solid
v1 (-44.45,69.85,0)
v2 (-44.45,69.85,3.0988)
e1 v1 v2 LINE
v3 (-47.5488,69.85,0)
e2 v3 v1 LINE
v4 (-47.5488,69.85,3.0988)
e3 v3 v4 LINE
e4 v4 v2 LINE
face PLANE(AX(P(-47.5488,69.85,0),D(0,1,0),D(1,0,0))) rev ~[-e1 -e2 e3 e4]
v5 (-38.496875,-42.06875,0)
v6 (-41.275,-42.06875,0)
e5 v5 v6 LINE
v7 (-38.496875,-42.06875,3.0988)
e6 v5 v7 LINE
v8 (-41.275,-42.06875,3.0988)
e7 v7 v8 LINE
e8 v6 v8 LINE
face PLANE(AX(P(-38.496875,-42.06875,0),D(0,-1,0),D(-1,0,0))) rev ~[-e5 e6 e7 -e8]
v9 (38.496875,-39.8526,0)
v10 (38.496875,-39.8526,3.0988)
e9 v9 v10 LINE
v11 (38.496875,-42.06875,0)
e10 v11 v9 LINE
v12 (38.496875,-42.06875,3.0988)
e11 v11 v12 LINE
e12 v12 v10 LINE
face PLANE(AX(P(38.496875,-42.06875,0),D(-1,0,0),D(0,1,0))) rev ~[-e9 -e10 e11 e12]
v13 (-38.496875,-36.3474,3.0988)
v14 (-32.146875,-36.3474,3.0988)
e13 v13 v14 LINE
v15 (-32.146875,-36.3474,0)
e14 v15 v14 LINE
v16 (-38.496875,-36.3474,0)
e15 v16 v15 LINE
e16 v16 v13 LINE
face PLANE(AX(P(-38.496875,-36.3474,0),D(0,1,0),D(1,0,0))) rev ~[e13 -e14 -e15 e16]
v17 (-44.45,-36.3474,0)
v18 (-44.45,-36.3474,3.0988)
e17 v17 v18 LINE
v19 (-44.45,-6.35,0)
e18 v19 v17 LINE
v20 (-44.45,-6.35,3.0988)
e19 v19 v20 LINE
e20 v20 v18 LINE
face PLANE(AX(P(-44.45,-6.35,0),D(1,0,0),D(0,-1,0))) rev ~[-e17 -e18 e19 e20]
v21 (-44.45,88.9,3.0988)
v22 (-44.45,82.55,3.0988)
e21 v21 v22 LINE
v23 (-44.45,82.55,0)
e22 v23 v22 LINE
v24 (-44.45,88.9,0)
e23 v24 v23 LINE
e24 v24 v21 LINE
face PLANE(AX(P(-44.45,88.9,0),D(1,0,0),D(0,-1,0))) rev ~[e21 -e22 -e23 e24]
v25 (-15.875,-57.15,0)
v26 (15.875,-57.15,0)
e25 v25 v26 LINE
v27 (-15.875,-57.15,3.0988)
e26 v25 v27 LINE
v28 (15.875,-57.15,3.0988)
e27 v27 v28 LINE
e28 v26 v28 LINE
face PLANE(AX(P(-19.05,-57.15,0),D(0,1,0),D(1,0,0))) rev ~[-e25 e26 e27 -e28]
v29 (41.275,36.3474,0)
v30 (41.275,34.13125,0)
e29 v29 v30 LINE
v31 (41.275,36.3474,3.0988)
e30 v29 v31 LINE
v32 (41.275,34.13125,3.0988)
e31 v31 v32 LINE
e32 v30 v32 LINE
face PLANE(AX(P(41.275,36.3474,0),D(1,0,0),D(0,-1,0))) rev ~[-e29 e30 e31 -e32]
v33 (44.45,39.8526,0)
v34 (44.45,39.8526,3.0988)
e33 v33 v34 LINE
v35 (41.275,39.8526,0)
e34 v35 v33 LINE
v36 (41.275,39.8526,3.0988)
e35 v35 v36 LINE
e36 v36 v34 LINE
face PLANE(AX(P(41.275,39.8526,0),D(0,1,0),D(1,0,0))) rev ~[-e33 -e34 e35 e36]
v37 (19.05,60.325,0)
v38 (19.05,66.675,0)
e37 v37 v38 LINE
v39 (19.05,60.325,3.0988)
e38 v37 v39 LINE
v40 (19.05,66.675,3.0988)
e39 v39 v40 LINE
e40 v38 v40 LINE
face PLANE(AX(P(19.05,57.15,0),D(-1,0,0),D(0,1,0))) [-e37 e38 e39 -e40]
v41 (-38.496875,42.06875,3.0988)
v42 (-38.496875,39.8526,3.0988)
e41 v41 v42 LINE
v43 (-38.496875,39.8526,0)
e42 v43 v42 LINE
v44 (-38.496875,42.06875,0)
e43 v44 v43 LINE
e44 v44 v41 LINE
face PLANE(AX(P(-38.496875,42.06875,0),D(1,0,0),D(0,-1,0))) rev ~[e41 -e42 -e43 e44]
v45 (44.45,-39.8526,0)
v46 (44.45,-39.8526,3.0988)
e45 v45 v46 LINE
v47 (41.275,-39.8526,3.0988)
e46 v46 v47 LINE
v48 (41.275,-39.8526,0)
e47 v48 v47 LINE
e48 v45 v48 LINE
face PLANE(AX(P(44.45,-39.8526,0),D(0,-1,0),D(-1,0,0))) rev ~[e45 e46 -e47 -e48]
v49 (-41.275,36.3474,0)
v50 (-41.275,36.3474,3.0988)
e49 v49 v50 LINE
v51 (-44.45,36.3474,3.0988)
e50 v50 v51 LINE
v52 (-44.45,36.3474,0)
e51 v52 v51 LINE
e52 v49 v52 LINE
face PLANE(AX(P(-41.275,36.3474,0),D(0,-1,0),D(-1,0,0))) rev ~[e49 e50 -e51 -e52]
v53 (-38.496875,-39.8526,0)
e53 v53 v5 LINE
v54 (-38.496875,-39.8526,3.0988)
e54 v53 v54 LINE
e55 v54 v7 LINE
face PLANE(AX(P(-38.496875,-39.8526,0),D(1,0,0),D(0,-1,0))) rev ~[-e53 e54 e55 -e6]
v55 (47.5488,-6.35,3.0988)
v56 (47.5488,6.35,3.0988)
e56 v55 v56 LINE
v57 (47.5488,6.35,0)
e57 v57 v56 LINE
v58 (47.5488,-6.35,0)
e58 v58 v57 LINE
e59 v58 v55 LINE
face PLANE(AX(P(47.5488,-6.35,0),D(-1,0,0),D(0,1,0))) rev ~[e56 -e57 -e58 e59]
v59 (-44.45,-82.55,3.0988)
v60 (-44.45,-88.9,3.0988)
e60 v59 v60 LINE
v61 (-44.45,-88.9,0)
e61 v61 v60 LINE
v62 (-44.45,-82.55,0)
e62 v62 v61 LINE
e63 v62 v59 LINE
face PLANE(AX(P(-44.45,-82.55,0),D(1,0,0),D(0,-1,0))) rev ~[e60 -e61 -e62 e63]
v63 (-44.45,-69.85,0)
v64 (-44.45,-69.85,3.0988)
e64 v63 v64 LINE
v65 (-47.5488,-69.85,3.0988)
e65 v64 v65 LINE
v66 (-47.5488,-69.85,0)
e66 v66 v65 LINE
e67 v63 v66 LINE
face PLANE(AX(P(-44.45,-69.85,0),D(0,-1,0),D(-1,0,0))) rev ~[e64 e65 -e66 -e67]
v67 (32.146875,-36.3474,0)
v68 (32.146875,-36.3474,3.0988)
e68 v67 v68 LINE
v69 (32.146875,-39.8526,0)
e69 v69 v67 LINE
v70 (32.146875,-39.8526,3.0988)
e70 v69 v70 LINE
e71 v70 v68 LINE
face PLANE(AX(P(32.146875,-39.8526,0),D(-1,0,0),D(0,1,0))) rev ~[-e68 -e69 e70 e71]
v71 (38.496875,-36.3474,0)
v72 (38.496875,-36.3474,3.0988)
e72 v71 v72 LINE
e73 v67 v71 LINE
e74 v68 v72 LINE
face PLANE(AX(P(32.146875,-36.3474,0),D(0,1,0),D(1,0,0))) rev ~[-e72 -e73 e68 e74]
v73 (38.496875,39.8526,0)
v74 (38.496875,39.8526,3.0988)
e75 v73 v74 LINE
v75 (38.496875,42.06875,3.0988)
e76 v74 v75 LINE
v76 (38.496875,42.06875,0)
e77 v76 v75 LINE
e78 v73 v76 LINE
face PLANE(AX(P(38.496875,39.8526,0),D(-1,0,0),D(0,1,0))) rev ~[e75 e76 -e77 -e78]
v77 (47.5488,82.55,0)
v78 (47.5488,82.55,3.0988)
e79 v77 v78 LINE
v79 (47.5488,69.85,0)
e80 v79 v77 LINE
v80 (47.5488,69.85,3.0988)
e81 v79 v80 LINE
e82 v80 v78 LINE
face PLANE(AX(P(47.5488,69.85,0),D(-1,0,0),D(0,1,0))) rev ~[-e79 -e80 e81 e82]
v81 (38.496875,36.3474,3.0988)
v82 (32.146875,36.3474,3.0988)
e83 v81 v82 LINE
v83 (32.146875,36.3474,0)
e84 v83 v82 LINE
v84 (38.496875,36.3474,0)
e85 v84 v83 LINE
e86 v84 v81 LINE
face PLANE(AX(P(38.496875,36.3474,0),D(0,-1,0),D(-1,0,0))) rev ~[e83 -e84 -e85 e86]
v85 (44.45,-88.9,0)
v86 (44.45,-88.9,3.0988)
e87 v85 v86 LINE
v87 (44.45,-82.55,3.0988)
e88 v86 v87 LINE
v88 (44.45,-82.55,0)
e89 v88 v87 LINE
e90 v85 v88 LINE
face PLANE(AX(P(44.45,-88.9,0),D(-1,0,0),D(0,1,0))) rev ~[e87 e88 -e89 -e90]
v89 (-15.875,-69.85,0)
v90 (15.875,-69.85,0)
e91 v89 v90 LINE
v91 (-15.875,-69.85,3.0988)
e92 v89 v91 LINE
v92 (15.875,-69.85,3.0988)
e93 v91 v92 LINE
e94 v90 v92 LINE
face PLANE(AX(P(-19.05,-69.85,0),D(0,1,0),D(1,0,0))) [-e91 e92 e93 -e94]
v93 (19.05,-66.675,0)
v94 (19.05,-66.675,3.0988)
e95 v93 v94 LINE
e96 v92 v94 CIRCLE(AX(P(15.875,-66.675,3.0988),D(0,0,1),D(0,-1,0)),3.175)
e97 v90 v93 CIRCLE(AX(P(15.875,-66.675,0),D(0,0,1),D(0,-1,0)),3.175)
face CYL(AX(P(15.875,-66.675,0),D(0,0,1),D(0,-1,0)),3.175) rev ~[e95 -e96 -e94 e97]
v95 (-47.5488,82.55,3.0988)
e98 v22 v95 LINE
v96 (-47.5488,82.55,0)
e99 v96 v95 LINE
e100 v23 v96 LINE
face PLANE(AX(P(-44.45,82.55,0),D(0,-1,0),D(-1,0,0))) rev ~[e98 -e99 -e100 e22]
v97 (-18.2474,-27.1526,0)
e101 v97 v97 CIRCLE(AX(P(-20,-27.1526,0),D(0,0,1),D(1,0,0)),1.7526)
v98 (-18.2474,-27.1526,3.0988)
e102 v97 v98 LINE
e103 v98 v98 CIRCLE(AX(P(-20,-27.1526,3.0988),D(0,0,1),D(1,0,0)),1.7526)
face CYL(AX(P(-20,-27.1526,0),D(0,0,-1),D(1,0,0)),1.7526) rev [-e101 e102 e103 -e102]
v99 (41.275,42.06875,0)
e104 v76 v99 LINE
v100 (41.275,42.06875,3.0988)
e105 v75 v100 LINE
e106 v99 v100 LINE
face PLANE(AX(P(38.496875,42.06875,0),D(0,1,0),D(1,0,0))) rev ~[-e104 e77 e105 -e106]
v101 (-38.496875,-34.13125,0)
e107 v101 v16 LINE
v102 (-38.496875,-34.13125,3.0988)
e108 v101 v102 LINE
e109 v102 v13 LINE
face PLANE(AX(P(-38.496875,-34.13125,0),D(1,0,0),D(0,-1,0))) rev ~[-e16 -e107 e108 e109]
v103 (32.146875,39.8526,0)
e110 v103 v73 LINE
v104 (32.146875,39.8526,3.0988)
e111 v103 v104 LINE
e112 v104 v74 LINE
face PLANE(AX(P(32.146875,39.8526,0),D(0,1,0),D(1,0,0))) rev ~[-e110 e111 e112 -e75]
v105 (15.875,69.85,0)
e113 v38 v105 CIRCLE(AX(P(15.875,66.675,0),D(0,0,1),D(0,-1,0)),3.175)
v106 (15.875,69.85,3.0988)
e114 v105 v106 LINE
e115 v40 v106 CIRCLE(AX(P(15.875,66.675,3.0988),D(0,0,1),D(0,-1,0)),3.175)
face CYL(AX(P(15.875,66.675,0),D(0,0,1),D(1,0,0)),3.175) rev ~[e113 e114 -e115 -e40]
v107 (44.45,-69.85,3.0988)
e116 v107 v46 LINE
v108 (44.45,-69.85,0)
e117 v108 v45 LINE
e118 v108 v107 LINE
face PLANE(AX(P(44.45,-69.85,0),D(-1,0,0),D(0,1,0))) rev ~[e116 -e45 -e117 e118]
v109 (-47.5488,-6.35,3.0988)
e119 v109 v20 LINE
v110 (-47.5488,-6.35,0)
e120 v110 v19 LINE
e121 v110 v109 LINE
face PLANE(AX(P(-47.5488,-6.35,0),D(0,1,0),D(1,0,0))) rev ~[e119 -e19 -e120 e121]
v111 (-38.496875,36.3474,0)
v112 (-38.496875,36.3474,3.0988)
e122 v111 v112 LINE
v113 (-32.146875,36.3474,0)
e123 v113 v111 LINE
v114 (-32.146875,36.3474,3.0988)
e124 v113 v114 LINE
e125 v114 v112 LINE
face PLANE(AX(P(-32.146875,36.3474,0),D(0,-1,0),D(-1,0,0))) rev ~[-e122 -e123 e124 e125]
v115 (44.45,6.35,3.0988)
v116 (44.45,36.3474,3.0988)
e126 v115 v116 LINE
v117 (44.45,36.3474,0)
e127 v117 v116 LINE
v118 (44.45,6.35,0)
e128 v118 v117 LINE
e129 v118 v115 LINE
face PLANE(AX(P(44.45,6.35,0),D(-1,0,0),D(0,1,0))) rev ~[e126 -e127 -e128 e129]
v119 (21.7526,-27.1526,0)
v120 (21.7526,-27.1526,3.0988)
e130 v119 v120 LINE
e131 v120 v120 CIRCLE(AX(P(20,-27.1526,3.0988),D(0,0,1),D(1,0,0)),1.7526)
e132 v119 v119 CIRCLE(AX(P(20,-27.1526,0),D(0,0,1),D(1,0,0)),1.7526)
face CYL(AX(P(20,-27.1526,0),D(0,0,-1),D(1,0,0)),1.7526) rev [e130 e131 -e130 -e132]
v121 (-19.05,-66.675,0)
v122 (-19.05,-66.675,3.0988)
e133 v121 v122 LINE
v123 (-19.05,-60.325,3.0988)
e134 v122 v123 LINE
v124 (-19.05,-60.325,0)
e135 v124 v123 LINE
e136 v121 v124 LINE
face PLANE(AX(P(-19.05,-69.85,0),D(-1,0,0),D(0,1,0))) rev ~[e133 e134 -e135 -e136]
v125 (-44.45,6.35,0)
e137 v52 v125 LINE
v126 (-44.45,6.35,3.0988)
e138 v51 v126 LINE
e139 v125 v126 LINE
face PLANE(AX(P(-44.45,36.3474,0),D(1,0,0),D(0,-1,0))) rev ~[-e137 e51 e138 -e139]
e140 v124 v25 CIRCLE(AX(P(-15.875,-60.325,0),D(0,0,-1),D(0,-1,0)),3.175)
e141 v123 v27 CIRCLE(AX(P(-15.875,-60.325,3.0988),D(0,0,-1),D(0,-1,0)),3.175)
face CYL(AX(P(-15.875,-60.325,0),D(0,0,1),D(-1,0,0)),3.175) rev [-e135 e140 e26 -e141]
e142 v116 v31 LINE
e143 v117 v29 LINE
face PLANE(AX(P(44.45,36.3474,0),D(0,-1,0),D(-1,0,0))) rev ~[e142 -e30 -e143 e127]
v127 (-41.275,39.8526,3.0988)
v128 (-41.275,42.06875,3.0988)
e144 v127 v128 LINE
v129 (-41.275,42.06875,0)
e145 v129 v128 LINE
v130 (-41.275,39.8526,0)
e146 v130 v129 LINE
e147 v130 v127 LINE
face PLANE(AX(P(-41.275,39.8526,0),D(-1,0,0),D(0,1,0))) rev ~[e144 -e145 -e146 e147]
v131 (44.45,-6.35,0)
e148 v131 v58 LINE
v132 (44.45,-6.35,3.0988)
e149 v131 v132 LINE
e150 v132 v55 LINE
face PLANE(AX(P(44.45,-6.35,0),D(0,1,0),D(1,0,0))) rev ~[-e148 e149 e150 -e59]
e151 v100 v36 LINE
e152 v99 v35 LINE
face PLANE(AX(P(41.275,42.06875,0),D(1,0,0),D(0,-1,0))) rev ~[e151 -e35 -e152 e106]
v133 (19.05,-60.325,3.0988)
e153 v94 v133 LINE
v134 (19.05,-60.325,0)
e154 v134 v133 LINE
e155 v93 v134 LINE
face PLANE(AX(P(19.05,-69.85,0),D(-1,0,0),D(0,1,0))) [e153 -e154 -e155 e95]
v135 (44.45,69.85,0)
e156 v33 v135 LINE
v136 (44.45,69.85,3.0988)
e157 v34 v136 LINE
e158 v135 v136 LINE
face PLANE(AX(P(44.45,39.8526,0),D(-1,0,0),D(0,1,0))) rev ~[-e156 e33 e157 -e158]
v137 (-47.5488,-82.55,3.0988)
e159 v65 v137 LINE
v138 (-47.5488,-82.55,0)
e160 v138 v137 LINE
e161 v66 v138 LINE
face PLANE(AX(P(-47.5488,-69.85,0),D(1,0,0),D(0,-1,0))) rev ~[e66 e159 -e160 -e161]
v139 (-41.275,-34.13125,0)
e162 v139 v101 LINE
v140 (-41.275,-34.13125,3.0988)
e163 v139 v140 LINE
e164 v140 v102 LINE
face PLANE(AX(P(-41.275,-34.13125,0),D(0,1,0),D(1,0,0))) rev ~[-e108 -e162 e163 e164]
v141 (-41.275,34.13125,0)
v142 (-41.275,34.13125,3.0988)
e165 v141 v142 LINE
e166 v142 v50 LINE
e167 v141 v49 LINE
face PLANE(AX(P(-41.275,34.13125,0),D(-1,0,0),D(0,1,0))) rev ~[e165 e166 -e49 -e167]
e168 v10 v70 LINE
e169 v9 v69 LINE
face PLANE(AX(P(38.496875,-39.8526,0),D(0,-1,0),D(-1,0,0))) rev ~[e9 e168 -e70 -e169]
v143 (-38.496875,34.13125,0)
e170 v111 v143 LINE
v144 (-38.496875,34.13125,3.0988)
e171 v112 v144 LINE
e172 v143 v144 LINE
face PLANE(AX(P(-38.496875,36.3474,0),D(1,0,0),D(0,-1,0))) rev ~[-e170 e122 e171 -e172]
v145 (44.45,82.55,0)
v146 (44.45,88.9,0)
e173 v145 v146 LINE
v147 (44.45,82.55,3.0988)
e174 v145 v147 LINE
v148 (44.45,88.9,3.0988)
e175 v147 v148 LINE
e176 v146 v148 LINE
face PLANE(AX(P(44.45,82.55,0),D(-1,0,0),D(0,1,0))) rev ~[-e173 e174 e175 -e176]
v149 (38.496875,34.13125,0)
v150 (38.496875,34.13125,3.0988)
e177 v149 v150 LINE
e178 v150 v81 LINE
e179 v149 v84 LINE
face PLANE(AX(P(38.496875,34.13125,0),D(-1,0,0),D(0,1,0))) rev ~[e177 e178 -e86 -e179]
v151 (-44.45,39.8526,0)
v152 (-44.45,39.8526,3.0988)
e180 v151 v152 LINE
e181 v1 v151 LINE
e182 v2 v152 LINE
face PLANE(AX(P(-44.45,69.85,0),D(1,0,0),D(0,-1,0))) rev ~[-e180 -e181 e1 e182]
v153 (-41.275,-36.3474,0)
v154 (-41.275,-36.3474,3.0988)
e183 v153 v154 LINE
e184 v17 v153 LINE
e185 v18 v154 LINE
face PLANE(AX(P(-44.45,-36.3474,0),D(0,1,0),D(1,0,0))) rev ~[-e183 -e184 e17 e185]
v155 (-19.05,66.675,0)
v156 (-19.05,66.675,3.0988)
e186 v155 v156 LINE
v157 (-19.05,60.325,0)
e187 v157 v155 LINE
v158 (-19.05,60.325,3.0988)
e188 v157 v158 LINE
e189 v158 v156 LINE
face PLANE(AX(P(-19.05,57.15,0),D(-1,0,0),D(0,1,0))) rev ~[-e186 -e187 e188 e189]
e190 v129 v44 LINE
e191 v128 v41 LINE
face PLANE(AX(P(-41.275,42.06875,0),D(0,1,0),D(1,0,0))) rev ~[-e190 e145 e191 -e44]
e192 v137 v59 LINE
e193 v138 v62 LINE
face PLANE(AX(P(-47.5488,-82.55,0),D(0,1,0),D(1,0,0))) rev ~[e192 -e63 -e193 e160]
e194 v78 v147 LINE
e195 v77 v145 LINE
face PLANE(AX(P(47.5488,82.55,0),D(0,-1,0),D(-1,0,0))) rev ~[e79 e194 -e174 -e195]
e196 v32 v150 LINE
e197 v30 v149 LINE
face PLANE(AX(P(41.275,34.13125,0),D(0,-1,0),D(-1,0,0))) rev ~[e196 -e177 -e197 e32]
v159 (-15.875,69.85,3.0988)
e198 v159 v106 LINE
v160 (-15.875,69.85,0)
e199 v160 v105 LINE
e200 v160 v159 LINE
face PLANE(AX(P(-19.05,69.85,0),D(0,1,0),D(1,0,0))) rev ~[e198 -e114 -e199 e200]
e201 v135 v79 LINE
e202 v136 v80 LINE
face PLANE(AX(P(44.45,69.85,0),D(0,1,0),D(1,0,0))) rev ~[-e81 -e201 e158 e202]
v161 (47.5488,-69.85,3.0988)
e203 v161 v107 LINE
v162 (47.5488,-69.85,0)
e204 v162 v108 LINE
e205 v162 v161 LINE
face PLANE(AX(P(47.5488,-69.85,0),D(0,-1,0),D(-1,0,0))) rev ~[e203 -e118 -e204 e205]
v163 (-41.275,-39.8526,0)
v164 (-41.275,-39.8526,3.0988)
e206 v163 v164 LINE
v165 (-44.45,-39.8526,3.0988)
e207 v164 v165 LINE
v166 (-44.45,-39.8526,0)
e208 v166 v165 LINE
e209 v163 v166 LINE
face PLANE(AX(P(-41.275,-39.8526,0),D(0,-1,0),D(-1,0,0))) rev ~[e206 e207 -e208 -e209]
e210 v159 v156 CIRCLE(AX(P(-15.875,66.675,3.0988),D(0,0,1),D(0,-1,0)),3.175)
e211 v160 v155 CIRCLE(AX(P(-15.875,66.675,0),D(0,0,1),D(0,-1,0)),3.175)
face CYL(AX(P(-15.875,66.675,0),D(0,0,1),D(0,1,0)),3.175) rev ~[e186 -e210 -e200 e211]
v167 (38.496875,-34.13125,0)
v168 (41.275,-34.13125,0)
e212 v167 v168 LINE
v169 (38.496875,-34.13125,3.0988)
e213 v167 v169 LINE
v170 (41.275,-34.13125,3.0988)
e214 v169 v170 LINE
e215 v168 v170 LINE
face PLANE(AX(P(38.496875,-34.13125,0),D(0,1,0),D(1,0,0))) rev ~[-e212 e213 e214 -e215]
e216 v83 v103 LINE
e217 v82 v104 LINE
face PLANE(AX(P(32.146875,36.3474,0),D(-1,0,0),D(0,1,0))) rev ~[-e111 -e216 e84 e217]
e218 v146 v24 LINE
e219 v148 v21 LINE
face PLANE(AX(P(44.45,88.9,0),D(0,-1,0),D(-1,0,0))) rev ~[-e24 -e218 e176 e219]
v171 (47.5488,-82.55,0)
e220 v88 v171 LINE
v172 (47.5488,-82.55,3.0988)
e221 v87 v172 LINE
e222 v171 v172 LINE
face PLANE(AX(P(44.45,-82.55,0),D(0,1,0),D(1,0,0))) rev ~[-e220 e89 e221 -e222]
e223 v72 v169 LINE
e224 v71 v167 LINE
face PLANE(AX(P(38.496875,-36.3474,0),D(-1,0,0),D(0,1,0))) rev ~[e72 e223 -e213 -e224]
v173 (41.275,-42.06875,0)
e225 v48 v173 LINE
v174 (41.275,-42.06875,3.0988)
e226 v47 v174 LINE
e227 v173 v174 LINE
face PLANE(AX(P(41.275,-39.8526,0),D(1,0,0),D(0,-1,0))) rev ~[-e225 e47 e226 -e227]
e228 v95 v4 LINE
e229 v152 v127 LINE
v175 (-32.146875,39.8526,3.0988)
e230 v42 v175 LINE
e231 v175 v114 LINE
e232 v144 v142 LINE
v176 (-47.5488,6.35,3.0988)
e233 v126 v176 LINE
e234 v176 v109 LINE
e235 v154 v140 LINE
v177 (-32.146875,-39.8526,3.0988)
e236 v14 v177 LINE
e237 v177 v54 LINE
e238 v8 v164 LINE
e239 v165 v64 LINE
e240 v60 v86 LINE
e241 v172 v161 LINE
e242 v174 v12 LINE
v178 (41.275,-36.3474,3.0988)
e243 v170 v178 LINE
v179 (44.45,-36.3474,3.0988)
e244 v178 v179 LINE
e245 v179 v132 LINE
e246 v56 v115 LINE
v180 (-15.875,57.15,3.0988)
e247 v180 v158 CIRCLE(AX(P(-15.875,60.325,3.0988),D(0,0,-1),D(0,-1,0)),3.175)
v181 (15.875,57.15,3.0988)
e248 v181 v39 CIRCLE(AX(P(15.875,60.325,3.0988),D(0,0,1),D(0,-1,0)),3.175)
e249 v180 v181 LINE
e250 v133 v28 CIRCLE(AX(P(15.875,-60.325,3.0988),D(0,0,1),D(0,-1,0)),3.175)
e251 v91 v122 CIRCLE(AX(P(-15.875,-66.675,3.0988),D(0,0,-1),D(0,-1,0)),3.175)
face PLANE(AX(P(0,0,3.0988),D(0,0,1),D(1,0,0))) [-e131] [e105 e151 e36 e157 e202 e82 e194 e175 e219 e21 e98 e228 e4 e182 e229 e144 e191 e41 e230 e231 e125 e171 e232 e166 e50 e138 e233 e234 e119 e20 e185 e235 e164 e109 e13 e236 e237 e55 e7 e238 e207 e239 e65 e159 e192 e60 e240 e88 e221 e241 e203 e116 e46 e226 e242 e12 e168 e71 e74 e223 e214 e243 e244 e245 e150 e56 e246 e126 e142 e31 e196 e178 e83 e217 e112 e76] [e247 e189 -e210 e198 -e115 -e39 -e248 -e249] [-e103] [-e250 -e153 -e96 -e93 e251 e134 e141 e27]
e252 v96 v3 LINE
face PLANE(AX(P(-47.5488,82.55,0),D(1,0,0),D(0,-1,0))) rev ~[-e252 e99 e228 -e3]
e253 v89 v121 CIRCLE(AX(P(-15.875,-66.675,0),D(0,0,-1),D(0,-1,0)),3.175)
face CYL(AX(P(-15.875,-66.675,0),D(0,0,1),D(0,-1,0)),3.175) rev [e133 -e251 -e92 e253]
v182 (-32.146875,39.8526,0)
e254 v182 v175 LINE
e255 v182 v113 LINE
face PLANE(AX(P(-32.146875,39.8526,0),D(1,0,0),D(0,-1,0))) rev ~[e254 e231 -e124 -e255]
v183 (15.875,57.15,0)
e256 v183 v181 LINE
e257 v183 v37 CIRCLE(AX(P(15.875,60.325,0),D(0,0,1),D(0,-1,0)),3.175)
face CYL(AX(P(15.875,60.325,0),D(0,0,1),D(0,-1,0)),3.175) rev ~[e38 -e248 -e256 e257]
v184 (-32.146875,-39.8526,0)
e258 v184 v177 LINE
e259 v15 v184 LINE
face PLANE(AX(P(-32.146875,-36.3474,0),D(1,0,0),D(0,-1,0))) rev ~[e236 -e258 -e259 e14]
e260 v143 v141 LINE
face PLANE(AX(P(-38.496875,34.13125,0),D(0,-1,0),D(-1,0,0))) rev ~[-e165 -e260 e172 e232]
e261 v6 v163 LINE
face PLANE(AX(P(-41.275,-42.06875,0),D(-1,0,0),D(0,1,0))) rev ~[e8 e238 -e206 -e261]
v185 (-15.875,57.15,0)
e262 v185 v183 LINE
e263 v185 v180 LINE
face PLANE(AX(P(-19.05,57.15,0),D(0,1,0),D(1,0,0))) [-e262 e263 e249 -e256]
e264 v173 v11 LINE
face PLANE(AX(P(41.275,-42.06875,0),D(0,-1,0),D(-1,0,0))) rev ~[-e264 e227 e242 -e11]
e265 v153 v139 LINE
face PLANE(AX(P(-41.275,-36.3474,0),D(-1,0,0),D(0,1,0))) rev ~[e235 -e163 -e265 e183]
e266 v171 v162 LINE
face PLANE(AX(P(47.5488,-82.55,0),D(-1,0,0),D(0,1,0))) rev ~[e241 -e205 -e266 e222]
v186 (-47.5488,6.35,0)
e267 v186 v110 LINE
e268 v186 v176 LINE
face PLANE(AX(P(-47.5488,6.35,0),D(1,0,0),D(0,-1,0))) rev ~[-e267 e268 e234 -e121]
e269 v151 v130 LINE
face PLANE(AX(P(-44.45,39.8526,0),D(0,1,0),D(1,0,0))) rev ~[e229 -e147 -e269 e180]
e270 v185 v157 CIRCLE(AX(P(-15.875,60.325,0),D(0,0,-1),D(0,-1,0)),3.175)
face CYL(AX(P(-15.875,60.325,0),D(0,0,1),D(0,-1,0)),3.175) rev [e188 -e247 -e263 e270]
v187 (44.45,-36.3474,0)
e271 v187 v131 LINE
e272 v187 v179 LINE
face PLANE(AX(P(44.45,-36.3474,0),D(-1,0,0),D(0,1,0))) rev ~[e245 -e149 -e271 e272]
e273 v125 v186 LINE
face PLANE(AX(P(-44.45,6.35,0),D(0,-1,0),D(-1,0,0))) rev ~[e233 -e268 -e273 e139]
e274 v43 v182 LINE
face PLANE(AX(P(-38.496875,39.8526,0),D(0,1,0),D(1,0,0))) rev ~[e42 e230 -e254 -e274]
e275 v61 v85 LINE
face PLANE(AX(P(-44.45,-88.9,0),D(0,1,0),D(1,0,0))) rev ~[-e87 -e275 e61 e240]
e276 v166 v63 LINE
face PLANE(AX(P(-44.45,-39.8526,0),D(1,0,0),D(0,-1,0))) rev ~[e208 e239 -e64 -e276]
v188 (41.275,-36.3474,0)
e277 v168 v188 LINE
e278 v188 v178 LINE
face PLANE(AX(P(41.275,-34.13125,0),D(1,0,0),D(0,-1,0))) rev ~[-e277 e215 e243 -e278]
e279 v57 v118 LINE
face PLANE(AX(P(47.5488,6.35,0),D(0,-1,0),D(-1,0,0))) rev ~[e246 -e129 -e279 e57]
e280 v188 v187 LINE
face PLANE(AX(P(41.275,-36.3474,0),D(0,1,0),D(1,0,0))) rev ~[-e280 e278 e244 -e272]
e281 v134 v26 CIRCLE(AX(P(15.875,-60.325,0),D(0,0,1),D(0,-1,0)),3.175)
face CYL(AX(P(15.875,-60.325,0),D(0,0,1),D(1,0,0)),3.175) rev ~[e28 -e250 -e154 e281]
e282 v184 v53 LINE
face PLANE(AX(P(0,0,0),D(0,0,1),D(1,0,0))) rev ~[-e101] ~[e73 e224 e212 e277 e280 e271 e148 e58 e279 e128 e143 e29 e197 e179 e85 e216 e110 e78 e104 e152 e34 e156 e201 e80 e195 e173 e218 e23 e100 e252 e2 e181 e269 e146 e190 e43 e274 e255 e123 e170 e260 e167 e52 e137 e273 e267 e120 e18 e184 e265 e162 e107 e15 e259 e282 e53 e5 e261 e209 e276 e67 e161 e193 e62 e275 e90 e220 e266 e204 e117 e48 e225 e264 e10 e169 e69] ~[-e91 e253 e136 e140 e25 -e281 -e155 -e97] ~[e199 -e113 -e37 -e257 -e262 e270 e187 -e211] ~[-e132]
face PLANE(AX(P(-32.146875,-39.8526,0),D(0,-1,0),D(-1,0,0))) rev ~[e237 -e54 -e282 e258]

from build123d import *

# Parameters (mm, degrees)
F0_R     = 1.7526
F0_W     = 38.1
F0_H     = 12.7
F1_DEPTH = 3.0988
F2_R     = 3.175


with BuildPart() as f1:
    # F0 (on Top) → F1 (new body)
    with BuildSketch(Plane.XY):
        Polygon((44.45, 88.9), (-44.45, 88.9), (-44.45, 82.55), (-47.5488, 82.55), (-47.5488, 69.85), (-44.45, 69.85), (-44.45, 39.8526), (-41.275, 39.8526), (-41.275, 42.06875), (-38.496875, 42.06875), (-38.496875, 39.8526), (-32.146875, 39.8526), (-32.146875, 36.3474), (-38.496875, 36.3474), (-38.496875, 34.13125), (-41.275, 34.13125), (-41.275, 36.3474), (-44.45, 36.3474), (-44.45, 6.35), (-47.5488, 6.35), (-47.5488, -6.35), (-44.45, -6.35), (-44.45, -36.3474), (-41.275, -36.3474), (-41.275, -34.13125), (-38.496875, -34.13125), (-38.496875, -36.3474), (-32.146875, -36.3474), (-32.146875, -39.8526), (-38.496875, -39.8526), (-38.496875, -42.06875), (-41.275, -42.06875), (-41.275, -39.8526), (-44.45, -39.8526), (-44.45, -69.85), (-47.5488, -69.85), (-47.5488, -82.55), (-44.45, -82.55), (-44.45, -88.9), (44.45, -88.9), (44.45, -82.55), (47.5488, -82.55), (47.5488, -69.85), (44.45, -69.85), (44.45, -39.8526), (41.275, -39.8526), (41.275, -42.06875), (38.496875, -42.06875), (38.496875, -39.8526), (32.146875, -39.8526), (32.146875, -36.3474), (38.496875, -36.3474), (38.496875, -34.13125), (41.275, -34.13125), (41.275, -36.3474), (44.45, -36.3474), (44.45, -6.35), (47.5488, -6.35), (47.5488, 6.35), (44.45, 6.35), (44.45, 36.3474), (41.275, 36.3474), (41.275, 34.13125), (38.496875, 34.13125), (38.496875, 36.3474), (32.146875, 36.3474), (32.146875, 39.8526), (38.496875, 39.8526), (38.496875, 42.06875), (41.275, 42.06875), (41.275, 39.8526), (44.45, 39.8526), (44.45, 69.85), (47.5488, 69.85), (47.5488, 82.55), (44.45, 82.55), align=None)
        with Locations((-20, -27.1526)):
            Circle(F0_R, mode=Mode.SUBTRACT)
        with Locations((0, -63.5)):
            Rectangle(F0_W, F0_H, mode=Mode.SUBTRACT)
        with Locations((20, -27.1526)):
            Circle(F0_R, mode=Mode.SUBTRACT)
        with Locations((0, 63.5)):
            Rectangle(F0_W, F0_H, mode=Mode.SUBTRACT)
    extrude(amount=F1_DEPTH)

    # F2
    f2_edges = [f1.edges().sort_by_distance(p)[0] for p in [
        (19.05, 57.15, 1.5494),
        (19.05, -69.85, 1.5494),
        (-19.05, 57.15, 1.5494),
        (-19.05, -69.85, 1.5494),
        (19.05, 69.85, 1.5494),
        (19.05, -57.15, 1.5494),
        (-19.05, -57.15, 1.5494),
        (-19.05, 69.85, 1.5494),
    ]]
    fillet(f2_edges, radius=F2_R)


solid = f1.part
